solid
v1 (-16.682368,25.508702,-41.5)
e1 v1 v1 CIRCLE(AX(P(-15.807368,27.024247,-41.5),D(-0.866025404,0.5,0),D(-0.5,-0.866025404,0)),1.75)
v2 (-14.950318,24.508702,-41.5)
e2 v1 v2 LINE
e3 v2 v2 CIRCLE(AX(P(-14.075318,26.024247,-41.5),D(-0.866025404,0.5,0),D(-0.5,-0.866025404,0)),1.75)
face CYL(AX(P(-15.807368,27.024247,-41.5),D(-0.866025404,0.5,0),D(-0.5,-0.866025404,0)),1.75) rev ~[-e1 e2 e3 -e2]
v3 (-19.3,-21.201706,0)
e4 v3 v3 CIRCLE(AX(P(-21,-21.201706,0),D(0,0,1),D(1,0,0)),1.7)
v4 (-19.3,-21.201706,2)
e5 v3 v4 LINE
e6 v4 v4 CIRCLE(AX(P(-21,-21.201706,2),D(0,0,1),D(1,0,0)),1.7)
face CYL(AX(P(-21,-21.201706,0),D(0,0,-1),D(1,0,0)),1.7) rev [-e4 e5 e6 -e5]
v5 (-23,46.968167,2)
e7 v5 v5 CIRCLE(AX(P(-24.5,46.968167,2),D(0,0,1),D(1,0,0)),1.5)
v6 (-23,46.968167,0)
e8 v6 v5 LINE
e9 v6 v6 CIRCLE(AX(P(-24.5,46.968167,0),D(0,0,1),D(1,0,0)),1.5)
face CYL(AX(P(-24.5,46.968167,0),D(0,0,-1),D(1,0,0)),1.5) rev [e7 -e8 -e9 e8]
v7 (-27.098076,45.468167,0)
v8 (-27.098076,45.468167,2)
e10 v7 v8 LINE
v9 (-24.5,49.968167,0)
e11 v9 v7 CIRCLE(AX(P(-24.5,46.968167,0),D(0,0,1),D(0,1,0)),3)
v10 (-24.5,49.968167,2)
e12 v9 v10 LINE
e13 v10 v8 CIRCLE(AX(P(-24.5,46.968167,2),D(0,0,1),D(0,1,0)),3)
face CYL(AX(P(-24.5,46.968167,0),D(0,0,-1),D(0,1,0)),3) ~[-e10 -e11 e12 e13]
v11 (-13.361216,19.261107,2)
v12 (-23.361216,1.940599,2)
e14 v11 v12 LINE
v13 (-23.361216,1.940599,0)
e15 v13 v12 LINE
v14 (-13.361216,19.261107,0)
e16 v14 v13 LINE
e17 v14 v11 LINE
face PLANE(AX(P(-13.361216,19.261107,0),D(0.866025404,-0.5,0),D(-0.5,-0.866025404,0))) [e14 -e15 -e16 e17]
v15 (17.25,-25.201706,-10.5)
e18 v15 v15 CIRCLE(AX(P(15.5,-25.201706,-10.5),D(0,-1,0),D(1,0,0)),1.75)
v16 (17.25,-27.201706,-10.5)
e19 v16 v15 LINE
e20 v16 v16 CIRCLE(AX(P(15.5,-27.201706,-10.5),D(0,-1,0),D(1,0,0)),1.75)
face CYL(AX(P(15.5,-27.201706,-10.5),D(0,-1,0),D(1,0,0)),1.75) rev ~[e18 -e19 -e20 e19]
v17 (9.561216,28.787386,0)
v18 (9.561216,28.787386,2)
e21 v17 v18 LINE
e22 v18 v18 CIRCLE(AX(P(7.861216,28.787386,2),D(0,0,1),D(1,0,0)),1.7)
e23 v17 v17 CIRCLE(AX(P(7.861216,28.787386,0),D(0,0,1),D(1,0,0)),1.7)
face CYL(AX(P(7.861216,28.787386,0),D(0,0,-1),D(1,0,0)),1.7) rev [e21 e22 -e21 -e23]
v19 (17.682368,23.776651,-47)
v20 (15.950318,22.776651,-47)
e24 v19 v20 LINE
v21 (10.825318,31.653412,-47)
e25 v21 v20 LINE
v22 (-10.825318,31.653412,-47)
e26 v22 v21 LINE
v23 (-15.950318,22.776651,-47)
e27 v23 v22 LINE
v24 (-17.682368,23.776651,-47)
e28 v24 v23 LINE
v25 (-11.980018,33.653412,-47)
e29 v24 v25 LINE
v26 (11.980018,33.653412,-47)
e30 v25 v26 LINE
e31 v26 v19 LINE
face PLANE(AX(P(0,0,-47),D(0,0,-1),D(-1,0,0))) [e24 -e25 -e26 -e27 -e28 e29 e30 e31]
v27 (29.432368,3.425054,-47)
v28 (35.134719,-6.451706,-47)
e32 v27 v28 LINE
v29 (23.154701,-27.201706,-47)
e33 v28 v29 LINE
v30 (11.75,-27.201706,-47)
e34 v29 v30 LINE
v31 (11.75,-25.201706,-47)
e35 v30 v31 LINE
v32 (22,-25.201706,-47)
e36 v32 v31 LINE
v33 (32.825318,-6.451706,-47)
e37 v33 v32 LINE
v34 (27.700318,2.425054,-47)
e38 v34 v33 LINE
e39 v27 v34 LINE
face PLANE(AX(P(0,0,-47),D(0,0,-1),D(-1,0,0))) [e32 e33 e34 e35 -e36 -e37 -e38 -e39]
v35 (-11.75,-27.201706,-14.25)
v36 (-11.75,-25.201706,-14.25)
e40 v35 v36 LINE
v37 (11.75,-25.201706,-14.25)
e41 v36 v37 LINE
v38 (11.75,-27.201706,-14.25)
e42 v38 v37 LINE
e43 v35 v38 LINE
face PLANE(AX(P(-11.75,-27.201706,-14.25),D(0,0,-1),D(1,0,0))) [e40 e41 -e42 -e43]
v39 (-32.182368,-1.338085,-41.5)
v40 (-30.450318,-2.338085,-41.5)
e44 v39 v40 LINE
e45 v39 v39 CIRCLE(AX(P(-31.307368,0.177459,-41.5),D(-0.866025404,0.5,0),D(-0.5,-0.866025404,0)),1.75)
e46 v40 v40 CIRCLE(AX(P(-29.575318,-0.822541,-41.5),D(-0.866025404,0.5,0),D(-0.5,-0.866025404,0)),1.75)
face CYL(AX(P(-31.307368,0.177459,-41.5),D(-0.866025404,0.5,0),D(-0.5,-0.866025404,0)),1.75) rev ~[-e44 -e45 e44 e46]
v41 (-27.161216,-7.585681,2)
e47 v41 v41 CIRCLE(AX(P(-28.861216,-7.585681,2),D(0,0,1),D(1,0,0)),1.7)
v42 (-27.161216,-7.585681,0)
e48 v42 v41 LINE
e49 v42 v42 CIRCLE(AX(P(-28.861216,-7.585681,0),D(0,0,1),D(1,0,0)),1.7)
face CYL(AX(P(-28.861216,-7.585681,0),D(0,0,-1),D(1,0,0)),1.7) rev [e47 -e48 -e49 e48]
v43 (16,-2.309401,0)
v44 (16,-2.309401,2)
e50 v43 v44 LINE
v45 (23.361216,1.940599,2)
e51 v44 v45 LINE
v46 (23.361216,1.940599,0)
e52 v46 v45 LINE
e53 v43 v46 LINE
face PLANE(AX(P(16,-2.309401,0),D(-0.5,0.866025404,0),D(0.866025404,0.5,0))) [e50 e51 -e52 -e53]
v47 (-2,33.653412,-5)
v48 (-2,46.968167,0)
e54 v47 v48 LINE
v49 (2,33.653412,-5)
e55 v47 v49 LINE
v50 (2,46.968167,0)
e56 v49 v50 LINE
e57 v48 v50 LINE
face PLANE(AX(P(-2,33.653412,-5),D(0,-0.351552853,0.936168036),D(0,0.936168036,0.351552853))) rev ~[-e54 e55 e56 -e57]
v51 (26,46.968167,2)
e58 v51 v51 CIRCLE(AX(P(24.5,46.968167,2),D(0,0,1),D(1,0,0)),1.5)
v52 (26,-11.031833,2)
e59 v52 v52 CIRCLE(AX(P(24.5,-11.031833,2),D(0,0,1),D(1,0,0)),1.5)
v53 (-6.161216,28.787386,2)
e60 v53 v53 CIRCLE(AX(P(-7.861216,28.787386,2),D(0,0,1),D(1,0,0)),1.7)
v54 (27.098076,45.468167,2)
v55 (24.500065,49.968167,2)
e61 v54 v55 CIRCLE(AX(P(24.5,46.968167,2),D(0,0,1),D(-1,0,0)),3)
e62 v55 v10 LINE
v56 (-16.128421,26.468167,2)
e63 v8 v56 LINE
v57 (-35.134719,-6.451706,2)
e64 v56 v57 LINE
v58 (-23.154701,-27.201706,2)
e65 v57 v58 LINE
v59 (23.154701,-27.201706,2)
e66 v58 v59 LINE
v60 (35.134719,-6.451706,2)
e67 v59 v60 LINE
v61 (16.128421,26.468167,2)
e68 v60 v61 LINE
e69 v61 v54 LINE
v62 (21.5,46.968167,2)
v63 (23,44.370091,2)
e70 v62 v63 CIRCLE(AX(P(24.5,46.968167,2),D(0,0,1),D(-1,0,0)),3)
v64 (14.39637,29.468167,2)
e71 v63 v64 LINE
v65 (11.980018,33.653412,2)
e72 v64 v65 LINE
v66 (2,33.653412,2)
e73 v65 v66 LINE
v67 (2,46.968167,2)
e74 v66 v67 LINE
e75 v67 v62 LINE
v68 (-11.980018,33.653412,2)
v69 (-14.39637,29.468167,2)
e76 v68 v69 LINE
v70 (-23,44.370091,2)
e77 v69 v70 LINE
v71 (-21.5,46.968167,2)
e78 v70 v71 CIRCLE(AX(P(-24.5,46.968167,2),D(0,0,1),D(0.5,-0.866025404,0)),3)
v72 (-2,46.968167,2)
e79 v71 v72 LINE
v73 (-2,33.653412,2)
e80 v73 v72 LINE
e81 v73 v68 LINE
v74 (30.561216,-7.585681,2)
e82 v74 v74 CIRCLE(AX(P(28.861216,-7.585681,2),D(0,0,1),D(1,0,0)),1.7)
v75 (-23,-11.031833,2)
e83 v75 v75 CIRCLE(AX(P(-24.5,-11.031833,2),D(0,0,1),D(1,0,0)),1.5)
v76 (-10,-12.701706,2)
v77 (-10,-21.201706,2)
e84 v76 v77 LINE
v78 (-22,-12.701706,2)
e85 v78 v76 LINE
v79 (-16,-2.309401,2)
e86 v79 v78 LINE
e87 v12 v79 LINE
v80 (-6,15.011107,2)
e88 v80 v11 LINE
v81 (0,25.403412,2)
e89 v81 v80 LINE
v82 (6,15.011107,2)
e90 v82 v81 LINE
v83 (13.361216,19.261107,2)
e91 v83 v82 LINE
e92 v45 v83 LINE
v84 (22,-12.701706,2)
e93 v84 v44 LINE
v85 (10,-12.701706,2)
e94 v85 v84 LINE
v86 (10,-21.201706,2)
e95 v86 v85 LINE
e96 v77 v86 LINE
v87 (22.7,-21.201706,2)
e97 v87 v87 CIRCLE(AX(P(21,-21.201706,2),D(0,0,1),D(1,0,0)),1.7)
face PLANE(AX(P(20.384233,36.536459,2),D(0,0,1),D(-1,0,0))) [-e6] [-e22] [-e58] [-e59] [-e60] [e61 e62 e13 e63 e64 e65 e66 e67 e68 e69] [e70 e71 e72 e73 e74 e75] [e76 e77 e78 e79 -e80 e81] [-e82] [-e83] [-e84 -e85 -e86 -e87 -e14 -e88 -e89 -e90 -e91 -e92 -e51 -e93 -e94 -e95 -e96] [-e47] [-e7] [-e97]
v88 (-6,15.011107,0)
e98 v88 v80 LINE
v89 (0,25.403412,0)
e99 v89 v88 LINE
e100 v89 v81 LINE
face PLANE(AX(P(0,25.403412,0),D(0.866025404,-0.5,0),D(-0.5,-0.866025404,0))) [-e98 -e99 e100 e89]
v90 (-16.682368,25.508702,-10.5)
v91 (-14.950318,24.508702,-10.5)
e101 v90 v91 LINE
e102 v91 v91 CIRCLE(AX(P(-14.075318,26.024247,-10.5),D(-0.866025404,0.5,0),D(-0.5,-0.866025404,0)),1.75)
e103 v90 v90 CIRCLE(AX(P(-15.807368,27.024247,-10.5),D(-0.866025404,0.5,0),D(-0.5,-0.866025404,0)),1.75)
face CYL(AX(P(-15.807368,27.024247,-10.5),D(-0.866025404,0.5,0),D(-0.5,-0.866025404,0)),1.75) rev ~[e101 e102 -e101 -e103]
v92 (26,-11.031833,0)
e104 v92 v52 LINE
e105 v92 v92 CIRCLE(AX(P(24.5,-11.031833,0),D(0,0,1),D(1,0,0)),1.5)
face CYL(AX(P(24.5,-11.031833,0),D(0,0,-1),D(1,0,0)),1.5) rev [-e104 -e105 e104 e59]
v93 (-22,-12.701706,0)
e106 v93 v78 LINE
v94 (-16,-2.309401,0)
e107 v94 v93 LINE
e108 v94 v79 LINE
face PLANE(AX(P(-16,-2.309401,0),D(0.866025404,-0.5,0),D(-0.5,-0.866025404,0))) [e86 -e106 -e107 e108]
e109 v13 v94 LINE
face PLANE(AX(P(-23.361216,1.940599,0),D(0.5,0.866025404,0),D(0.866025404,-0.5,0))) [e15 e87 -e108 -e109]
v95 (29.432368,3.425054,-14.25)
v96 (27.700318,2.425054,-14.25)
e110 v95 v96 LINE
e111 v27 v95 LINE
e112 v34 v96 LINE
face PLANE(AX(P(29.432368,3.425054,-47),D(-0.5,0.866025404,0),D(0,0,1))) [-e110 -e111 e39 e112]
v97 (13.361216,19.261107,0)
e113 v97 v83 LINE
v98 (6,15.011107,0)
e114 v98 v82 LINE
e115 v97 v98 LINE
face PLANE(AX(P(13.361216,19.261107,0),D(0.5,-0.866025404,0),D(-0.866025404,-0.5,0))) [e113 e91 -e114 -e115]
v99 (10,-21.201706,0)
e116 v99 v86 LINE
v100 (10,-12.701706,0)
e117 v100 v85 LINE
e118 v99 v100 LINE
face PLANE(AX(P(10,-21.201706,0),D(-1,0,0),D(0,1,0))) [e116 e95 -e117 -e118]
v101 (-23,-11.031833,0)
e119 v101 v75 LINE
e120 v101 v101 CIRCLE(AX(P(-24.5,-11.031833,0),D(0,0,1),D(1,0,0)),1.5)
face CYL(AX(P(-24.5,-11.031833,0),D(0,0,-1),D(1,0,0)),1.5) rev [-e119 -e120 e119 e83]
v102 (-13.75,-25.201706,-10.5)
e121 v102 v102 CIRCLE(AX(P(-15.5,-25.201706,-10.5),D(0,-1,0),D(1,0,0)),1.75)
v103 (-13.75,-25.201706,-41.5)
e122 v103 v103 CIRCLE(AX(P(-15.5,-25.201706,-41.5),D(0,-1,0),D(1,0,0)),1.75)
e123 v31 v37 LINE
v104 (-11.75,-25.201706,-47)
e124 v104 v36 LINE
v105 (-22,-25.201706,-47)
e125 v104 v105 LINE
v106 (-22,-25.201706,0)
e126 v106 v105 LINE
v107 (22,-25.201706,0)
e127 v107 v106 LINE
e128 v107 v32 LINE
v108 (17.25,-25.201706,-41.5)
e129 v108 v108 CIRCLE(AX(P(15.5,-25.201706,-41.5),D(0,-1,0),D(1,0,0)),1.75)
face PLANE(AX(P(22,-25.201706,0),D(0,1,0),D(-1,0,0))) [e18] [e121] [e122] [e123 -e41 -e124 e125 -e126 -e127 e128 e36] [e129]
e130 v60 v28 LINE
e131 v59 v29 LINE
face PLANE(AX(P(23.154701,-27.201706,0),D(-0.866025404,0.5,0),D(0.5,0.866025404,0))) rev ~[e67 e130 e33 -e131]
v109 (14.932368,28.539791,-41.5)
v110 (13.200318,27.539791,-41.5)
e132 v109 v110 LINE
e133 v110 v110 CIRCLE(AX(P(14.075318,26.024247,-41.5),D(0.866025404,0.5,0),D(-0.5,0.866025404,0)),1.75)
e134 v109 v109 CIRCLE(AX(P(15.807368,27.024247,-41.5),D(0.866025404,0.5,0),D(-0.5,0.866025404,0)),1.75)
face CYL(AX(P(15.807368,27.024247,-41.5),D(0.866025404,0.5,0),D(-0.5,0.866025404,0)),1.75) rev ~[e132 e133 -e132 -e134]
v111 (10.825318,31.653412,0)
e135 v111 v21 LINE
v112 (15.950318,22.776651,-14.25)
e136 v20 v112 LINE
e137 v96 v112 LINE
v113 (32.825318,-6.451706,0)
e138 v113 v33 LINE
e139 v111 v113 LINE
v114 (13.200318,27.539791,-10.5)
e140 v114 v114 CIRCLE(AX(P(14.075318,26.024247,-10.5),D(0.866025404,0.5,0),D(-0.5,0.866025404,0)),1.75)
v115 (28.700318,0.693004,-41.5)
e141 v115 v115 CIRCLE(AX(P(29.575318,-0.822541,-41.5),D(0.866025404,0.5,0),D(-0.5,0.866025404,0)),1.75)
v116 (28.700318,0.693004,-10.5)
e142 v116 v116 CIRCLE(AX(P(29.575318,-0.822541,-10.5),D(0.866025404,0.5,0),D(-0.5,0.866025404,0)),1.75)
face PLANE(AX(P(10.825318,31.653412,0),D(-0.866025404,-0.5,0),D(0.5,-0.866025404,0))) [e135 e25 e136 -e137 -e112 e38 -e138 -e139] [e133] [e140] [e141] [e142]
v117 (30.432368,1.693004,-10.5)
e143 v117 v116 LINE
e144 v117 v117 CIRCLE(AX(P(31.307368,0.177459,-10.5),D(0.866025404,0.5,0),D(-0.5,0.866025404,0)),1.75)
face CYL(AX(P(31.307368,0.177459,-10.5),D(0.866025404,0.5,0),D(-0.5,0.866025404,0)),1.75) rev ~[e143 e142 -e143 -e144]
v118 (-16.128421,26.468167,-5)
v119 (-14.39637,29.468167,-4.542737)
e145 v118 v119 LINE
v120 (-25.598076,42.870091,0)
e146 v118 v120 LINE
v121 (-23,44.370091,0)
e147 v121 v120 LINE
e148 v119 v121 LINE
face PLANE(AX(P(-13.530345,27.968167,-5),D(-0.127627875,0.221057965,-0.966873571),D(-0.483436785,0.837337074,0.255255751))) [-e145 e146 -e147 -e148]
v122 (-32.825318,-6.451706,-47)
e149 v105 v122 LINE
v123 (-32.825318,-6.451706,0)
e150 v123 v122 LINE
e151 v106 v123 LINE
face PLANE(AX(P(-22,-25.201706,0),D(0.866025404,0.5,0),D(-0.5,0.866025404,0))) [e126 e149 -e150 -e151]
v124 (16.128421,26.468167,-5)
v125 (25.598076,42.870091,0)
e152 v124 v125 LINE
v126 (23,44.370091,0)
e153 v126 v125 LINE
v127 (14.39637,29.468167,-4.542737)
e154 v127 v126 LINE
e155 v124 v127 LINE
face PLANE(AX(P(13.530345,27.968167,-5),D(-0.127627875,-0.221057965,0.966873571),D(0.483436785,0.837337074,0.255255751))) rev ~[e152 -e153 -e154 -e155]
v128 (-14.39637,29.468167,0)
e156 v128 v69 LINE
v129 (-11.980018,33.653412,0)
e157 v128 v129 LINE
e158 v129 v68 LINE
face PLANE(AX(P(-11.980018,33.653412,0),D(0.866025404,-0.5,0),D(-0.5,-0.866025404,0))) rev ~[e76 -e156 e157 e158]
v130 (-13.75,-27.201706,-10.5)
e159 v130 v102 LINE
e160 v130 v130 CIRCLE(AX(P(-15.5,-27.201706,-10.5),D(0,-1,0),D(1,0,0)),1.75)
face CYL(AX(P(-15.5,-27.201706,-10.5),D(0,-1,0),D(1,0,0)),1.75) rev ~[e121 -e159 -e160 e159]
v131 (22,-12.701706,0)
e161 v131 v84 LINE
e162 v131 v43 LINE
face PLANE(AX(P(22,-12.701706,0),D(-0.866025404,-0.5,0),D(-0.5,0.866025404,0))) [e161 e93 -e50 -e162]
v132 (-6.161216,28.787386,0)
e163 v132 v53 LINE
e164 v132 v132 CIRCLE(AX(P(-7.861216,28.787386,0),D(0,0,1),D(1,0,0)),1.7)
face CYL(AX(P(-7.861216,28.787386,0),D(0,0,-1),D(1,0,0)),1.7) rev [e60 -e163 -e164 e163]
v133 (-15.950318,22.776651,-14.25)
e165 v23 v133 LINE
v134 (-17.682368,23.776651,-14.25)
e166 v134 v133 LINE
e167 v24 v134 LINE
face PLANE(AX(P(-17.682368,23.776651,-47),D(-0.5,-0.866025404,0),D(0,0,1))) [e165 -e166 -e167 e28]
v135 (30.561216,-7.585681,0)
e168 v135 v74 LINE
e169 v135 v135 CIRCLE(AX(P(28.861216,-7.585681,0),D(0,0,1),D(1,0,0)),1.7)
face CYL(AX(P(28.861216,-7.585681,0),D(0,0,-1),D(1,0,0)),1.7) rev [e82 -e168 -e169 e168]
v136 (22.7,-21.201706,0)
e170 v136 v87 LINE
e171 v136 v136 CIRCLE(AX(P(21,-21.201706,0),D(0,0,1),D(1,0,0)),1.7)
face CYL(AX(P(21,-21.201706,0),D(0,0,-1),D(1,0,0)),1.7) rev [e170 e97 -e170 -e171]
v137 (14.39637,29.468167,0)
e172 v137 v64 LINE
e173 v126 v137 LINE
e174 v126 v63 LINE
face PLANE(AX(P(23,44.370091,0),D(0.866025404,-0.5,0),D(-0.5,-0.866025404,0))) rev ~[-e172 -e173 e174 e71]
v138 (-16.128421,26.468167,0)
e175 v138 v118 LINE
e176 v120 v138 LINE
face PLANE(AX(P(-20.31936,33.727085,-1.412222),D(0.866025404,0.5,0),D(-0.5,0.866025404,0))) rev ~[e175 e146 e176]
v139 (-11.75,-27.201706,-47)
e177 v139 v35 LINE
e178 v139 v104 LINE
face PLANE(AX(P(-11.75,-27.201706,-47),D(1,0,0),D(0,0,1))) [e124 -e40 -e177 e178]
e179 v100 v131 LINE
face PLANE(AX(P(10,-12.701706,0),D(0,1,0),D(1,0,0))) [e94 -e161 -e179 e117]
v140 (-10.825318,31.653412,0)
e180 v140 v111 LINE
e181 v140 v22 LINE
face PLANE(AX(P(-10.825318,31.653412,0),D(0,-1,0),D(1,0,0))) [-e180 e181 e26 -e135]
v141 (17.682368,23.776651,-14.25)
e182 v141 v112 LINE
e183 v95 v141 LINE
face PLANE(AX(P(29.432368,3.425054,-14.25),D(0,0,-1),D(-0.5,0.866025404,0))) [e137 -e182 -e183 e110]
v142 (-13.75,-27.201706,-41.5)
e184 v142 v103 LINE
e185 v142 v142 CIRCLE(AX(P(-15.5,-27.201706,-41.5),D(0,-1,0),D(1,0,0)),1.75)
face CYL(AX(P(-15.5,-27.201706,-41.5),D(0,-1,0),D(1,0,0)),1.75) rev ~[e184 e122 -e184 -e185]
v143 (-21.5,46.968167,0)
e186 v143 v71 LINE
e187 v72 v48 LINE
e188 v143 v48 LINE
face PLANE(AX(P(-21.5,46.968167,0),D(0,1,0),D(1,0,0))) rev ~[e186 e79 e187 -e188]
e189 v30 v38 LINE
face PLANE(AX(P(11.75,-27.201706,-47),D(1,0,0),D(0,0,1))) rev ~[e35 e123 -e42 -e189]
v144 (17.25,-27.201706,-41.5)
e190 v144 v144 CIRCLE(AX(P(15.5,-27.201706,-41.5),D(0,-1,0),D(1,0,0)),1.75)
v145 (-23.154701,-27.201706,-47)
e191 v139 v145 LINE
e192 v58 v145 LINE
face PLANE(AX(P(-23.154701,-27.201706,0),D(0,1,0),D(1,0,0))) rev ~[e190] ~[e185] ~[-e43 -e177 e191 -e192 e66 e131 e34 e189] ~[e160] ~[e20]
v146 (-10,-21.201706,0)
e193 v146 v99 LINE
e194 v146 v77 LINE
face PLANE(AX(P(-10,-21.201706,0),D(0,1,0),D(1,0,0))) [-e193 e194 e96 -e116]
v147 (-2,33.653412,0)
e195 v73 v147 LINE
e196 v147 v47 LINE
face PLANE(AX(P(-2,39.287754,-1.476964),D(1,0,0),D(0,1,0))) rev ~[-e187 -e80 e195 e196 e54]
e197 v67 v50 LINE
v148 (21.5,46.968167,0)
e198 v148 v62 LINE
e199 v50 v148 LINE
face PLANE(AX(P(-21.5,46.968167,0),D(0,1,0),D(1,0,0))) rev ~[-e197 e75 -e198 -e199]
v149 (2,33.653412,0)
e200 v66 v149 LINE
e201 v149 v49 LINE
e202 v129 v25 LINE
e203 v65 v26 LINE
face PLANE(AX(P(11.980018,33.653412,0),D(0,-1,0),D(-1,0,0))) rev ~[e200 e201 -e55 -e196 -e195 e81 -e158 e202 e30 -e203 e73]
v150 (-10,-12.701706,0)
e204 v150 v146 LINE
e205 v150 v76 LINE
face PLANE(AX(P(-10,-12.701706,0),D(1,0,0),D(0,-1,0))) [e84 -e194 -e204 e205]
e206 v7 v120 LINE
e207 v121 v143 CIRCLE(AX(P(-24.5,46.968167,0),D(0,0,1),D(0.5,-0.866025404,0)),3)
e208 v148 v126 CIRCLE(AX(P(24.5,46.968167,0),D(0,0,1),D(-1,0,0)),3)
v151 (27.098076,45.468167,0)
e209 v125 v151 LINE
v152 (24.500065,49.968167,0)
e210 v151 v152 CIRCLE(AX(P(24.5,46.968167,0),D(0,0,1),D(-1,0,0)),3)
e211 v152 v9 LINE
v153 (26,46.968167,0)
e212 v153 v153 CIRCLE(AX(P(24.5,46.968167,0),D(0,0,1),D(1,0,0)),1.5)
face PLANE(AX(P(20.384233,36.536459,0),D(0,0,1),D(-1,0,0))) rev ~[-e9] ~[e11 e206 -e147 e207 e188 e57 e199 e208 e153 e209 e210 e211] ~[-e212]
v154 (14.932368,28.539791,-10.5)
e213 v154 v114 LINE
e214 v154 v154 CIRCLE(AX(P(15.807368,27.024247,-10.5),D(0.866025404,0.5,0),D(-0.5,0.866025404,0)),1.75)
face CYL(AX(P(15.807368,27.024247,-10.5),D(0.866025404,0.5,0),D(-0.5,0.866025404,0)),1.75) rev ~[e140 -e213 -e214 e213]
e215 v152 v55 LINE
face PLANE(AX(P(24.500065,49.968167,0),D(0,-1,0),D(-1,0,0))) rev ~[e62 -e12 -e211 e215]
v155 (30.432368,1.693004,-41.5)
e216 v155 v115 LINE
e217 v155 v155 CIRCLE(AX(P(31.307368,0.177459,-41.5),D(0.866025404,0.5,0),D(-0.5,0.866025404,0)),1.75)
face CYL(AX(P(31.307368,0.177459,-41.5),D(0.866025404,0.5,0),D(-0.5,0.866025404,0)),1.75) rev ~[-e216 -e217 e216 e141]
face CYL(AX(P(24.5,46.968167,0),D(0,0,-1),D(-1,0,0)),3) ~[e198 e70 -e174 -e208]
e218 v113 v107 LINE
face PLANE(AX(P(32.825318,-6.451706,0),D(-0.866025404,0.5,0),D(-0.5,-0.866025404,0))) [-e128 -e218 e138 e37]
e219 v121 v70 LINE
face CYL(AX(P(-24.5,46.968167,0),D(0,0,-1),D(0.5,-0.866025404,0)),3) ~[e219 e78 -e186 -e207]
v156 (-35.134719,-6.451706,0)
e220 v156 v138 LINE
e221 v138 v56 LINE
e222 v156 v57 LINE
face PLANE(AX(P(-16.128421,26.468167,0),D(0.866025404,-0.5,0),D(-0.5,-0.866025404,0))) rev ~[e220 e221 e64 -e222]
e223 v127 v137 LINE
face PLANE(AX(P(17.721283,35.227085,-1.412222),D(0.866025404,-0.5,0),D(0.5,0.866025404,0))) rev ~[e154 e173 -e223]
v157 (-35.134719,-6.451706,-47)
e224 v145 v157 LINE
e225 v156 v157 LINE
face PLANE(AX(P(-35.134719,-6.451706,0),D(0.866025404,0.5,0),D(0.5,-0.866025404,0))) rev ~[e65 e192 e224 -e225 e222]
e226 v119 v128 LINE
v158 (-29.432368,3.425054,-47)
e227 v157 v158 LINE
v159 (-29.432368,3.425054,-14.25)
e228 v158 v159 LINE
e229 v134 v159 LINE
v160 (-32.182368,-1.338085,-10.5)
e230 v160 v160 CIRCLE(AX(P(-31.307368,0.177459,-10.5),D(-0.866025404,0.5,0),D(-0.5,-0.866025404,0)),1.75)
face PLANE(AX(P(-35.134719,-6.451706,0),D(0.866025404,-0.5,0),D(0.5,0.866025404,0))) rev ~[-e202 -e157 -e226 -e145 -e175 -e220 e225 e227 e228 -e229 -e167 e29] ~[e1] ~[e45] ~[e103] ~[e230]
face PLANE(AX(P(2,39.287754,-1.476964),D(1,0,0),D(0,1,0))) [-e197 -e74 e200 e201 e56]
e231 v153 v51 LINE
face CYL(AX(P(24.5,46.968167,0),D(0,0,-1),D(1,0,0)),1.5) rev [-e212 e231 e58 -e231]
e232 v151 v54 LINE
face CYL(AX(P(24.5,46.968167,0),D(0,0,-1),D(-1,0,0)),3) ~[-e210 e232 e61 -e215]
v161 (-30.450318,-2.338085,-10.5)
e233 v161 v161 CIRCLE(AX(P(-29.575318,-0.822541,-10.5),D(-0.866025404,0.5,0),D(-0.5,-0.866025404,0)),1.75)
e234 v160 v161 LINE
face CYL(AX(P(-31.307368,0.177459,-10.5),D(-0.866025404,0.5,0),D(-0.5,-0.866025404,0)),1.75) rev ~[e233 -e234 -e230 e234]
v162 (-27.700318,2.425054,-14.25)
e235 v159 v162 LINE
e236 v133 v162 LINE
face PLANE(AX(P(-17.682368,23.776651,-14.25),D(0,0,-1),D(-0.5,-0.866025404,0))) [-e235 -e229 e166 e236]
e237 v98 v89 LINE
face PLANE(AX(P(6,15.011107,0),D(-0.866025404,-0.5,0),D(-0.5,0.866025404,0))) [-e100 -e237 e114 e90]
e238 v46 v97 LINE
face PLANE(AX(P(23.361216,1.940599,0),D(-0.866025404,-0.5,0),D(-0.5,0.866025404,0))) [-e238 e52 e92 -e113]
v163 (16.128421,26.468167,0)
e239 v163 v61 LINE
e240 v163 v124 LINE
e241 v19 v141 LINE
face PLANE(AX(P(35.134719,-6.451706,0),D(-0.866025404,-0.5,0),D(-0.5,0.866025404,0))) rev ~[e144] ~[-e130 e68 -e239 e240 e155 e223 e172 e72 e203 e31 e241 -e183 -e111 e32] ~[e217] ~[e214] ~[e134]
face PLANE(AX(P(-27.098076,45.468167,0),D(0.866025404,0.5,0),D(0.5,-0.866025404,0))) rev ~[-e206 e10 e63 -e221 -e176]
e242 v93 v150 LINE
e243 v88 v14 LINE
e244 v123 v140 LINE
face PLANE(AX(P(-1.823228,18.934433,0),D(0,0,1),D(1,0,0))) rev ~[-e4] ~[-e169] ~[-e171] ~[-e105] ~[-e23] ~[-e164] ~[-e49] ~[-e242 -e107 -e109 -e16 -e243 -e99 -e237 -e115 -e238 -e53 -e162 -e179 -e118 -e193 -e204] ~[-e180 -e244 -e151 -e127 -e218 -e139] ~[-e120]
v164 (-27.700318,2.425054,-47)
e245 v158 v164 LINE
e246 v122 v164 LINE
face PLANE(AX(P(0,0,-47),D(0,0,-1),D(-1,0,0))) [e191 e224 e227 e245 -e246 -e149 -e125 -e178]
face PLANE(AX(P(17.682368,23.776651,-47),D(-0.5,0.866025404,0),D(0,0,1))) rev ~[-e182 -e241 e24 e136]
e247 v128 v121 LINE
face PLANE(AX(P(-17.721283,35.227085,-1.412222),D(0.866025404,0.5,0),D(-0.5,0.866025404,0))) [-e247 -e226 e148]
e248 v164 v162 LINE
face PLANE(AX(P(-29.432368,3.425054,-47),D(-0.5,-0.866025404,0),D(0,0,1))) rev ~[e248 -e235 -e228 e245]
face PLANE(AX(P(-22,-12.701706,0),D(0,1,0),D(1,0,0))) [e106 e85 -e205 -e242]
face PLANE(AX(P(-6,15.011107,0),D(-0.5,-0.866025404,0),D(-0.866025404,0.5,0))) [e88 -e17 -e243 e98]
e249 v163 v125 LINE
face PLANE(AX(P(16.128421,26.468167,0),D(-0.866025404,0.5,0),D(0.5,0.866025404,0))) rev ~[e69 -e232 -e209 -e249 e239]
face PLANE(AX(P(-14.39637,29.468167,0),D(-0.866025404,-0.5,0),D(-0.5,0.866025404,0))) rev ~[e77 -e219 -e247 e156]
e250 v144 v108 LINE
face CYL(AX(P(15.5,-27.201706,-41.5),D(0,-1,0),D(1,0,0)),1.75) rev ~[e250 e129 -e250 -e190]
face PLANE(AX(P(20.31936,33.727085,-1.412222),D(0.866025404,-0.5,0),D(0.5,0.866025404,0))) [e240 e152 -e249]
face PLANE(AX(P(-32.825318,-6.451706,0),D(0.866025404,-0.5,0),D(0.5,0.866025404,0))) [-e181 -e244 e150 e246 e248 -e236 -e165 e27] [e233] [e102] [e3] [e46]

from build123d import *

# Parameters (mm, degrees)
PAD_DEPTH       = 47
SKETCH002_R     = 1.7
SKETCH002_R_2   = 1.5
PAD001_DEPTH    = 2
PAD002_DEPTH    = 2
SKETCH004_R     = 1.75
SKETCH004_W     = 23.5
SKETCH004_H     = 32.75
POCKET_DEPTH    = 2
SKETCH005_R     = 1.75
SKETCH005_W     = 23.5
SKETCH005_H     = 32.75
POCKET001_DEPTH = 2
SKETCH006_R     = 1.75
SKETCH006_W     = 23.5
SKETCH006_H     = 32.75
POCKET002_DEPTH = 2
SKETCH007_W     = 4
SKETCH007_H     = 13.3147552139
PAD003_DEPTH    = 2
PAD004_DEPTH    = 3
PAD005_DEPTH    = 3
PAD006_DEPTH    = 4


with BuildPart() as part:
    # Sketch (on XY_Plane of Origin) → Pad (new body)
    with BuildSketch(Plane.XY):
        Polygon((-11.9800180857, 33.6534118443), (11.9800180857, 33.6534118443), (35.1347186241, -6.4517059222), (23.1547005384, -27.2017059222), (-23.1547005384, -27.2017059222), (-35.1347186241, -6.4517059222), align=None)
        Polygon((-10.8253175473, 31.6534118443), (10.8253175473, 31.6534118443), (32.8253175473, -6.4517059222), (22, -25.2017059222), (-22, -25.2017059222), (-32.8253175473, -6.4517059222), align=None, mode=Mode.SUBTRACT)
    extrude(amount=-PAD_DEPTH)

    # Sketch002 (on Face13 of Pad) → Pad001 (join)
    with BuildSketch(Plane.XY):
        with BuildLine():
            ThreePointArc((-22.9999999997, 44.3700908485), (-21.9019237891, 45.4681670596), (-21.5000000007, 46.9681670589))
            Line((-21.5000000007, 46.9681670582), (21.5, 46.9681670582))
            ThreePointArc((21.5, 46.9681670589), (26.6212972707, 44.8468236428), (24.5000652595, 49.9681670582))
            Line((24.5000652595, 49.9681670582), (-24.5, 49.9681670582))
            ThreePointArc((-24.5, 49.9681670582), (-27.0980762107, 48.4681670586), (-27.0980762107, 45.4681670593))
            Line((-27.0980762107, 45.4681670593), (-16.1284210963, 26.4681670596))
            Line((-16.1284210963, 26.4681670596), (-35.1347186241, -6.4517059222))
            Line((-35.1347186241, -6.4517059222), (-23.1547005384, -27.2017059222))
            Line((-23.1547005384, -27.2017059222), (23.1547005384, -27.2017059222))
            Line((23.1547005384, -27.2017059222), (35.1347186241, -6.4517059222))
            Line((35.1347186241, -6.4517059222), (11.9800180857, 33.6534118443))
            Line((11.9800180857, 33.6534118443), (-11.9800180857, 33.6534118443))
            Line((-11.9800180857, 33.6534118443), (-14.3963702888, 29.4681670596))
            Line((-14.3963702888, 29.4681670596), (-22.9999999997, 44.3700908485))
        make_face()
        Polygon((6, 15.0111069989), (0, 25.4034118443), (-6, 15.0111069989), (-13.3612159322, 19.2611069989), (-23.3612159322, 1.9405989232), (-16, -2.3094010768), (-22, -12.7017059222), (-10, -12.7017059222), (-10, -21.2017059222), (10, -21.2017059222), (10, -12.7017059222), (22, -12.7017059222), (16, -2.3094010768), (23.3612159322, 1.9405989232), (13.3612159322, 19.2611069989), align=None, mode=Mode.SUBTRACT)
        with Locations((-7.8612159322, 28.7873864406)):
            Circle(SKETCH002_R, mode=Mode.SUBTRACT)
        with Locations((-28.8612159322, -7.5856805184)):
            Circle(SKETCH002_R, mode=Mode.SUBTRACT)
        with Locations((7.8612159322, 28.7873864406)):
            Circle(SKETCH002_R, mode=Mode.SUBTRACT)
        with Locations((28.8612159322, -7.5856805184)):
            Circle(SKETCH002_R, mode=Mode.SUBTRACT)
        with Locations((-21, -21.2017059222)):
            Circle(SKETCH002_R, mode=Mode.SUBTRACT)
        with Locations((21, -21.2017059222)):
            Circle(SKETCH002_R, mode=Mode.SUBTRACT)
        with Locations((24.5, 46.9681670589)):
            Circle(SKETCH002_R_2, mode=Mode.SUBTRACT)
        with Locations((-24.5, -11.0318329411)):
            Circle(SKETCH002_R_2, mode=Mode.SUBTRACT)
        with Locations((24.5, -11.0318329411)):
            Circle(SKETCH002_R_2, mode=Mode.SUBTRACT)
        with Locations((-24.5, 46.9681670589)):
            Circle(SKETCH002_R_2, mode=Mode.SUBTRACT)
    extrude(amount=PAD001_DEPTH)

    # Sketch003 (on Face9 of Pad001) → Pad002 (join)
    with BuildSketch(Plane(origin=(0, 0, 0), x_dir=(1, 0, 0), z_dir=(0, 0, -1))):
        Polygon((16.1284210968, -26.4681670589), (27.0980762114, -45.4681670589), (23, -44.3700908476), (14.3963702892, -29.4681670589), align=None)
    extrude(amount=-PAD002_DEPTH)

    # Sketch004 (on Face5 of Pad002) → Pocket (cut)
    with BuildSketch(Plane.XZ.offset(27.2017059222)):
        with Locations((15.5, -10.5)):
            Circle(SKETCH004_R)
        with Locations((-15.5, -10.5)):
            Circle(SKETCH004_R)
        with Locations((-15.5, -41.5)):
            Circle(SKETCH004_R)
        with Locations((15.5, -41.5)):
            Circle(SKETCH004_R)
        with Locations((0, -30.625)):
            Rectangle(SKETCH004_W, SKETCH004_H)
    extrude(amount=-POCKET_DEPTH, mode=Mode.SUBTRACT)

    # Sketch005 (on Face3 of Pocket) → Pocket001 (cut)
    with BuildSketch(Plane(origin=(23.5573683549, 13.6008529611, 0), x_dir=(-0.5, 0.8660254038, 0), z_dir=(0.8660254038, 0.5, 0))):
        with Locations((15.5, -10.5)):
            Circle(SKETCH005_R)
        with Locations((-15.5, -10.5)):
            Circle(SKETCH005_R)
        with Locations((-15.5, -41.5)):
            Circle(SKETCH005_R)
        with Locations((15.5, -41.5)):
            Circle(SKETCH005_R)
        with Locations((0, -30.625)):
            Rectangle(SKETCH005_W, SKETCH005_H)
    extrude(amount=-POCKET001_DEPTH, mode=Mode.SUBTRACT)

    # Sketch006 (on Face13 of Pocket001) → Pocket002 (cut)
    with BuildSketch(Plane(origin=(-23.5573683549, 13.6008529611, 0), x_dir=(-0.5, -0.8660254038, 0), z_dir=(-0.8660254038, 0.5, 0))):
        with Locations((15.5, -10.5)):
            Circle(SKETCH006_R)
        with Locations((-15.5, -10.5)):
            Circle(SKETCH006_R)
        with Locations((-15.5, -41.5)):
            Circle(SKETCH006_R)
        with Locations((15.5, -41.5)):
            Circle(SKETCH006_R)
        with Locations((0, -30.625)):
            Rectangle(SKETCH006_W, SKETCH006_H)
    extrude(amount=-POCKET002_DEPTH, mode=Mode.SUBTRACT)

    # Sketch007 (on Face10 of Pocket002) → Pad003 (join)
    with BuildSketch(Plane.XY.offset(2)):
        with Locations((0, 40.3107894513)):
            Rectangle(SKETCH007_W, SKETCH007_H)
    extrude(amount=-PAD003_DEPTH)

    # Sketch008 (on Face17 of Pad003) → Pad004 (join)
    with BuildSketch(Plane(origin=(-1.9628129211, 1.1332305684, 0), x_dir=(-0.5, -0.8660254038, 0), z_dir=(-0.8660254038, 0.5, 0))):
        Polygon((-49.9256258422, 0), (-30.986315613, 0), (-30.986315613, -5), align=None)
    extrude(amount=-PAD004_DEPTH)

    # Sketch009 (on Face34 of Pad004) → Pad005 (join)
    with BuildSketch(Plane(origin=(1.9628129217, 1.1332305687, 0), x_dir=(-0.5, 0.8660254038, 0), z_dir=(0.8660254038, 0.5, 0))):
        Polygon((49.9256258429, 0), (30.9863156134, 0), (30.9863156134, -5), align=None)
    extrude(amount=-PAD005_DEPTH)

    # Sketch010 (on Face13 of Pad005) → Pad006 (join)
    with BuildSketch(Plane(origin=(-2, 0, 0), x_dir=(0, -1, 0), z_dir=(-1, 0, 0))):
        Polygon((-46.9681670582, 0), (-33.6534118443, 0), (-33.6534118443, -5), align=None)
    extrude(amount=-PAD006_DEPTH)


solid = part.part
